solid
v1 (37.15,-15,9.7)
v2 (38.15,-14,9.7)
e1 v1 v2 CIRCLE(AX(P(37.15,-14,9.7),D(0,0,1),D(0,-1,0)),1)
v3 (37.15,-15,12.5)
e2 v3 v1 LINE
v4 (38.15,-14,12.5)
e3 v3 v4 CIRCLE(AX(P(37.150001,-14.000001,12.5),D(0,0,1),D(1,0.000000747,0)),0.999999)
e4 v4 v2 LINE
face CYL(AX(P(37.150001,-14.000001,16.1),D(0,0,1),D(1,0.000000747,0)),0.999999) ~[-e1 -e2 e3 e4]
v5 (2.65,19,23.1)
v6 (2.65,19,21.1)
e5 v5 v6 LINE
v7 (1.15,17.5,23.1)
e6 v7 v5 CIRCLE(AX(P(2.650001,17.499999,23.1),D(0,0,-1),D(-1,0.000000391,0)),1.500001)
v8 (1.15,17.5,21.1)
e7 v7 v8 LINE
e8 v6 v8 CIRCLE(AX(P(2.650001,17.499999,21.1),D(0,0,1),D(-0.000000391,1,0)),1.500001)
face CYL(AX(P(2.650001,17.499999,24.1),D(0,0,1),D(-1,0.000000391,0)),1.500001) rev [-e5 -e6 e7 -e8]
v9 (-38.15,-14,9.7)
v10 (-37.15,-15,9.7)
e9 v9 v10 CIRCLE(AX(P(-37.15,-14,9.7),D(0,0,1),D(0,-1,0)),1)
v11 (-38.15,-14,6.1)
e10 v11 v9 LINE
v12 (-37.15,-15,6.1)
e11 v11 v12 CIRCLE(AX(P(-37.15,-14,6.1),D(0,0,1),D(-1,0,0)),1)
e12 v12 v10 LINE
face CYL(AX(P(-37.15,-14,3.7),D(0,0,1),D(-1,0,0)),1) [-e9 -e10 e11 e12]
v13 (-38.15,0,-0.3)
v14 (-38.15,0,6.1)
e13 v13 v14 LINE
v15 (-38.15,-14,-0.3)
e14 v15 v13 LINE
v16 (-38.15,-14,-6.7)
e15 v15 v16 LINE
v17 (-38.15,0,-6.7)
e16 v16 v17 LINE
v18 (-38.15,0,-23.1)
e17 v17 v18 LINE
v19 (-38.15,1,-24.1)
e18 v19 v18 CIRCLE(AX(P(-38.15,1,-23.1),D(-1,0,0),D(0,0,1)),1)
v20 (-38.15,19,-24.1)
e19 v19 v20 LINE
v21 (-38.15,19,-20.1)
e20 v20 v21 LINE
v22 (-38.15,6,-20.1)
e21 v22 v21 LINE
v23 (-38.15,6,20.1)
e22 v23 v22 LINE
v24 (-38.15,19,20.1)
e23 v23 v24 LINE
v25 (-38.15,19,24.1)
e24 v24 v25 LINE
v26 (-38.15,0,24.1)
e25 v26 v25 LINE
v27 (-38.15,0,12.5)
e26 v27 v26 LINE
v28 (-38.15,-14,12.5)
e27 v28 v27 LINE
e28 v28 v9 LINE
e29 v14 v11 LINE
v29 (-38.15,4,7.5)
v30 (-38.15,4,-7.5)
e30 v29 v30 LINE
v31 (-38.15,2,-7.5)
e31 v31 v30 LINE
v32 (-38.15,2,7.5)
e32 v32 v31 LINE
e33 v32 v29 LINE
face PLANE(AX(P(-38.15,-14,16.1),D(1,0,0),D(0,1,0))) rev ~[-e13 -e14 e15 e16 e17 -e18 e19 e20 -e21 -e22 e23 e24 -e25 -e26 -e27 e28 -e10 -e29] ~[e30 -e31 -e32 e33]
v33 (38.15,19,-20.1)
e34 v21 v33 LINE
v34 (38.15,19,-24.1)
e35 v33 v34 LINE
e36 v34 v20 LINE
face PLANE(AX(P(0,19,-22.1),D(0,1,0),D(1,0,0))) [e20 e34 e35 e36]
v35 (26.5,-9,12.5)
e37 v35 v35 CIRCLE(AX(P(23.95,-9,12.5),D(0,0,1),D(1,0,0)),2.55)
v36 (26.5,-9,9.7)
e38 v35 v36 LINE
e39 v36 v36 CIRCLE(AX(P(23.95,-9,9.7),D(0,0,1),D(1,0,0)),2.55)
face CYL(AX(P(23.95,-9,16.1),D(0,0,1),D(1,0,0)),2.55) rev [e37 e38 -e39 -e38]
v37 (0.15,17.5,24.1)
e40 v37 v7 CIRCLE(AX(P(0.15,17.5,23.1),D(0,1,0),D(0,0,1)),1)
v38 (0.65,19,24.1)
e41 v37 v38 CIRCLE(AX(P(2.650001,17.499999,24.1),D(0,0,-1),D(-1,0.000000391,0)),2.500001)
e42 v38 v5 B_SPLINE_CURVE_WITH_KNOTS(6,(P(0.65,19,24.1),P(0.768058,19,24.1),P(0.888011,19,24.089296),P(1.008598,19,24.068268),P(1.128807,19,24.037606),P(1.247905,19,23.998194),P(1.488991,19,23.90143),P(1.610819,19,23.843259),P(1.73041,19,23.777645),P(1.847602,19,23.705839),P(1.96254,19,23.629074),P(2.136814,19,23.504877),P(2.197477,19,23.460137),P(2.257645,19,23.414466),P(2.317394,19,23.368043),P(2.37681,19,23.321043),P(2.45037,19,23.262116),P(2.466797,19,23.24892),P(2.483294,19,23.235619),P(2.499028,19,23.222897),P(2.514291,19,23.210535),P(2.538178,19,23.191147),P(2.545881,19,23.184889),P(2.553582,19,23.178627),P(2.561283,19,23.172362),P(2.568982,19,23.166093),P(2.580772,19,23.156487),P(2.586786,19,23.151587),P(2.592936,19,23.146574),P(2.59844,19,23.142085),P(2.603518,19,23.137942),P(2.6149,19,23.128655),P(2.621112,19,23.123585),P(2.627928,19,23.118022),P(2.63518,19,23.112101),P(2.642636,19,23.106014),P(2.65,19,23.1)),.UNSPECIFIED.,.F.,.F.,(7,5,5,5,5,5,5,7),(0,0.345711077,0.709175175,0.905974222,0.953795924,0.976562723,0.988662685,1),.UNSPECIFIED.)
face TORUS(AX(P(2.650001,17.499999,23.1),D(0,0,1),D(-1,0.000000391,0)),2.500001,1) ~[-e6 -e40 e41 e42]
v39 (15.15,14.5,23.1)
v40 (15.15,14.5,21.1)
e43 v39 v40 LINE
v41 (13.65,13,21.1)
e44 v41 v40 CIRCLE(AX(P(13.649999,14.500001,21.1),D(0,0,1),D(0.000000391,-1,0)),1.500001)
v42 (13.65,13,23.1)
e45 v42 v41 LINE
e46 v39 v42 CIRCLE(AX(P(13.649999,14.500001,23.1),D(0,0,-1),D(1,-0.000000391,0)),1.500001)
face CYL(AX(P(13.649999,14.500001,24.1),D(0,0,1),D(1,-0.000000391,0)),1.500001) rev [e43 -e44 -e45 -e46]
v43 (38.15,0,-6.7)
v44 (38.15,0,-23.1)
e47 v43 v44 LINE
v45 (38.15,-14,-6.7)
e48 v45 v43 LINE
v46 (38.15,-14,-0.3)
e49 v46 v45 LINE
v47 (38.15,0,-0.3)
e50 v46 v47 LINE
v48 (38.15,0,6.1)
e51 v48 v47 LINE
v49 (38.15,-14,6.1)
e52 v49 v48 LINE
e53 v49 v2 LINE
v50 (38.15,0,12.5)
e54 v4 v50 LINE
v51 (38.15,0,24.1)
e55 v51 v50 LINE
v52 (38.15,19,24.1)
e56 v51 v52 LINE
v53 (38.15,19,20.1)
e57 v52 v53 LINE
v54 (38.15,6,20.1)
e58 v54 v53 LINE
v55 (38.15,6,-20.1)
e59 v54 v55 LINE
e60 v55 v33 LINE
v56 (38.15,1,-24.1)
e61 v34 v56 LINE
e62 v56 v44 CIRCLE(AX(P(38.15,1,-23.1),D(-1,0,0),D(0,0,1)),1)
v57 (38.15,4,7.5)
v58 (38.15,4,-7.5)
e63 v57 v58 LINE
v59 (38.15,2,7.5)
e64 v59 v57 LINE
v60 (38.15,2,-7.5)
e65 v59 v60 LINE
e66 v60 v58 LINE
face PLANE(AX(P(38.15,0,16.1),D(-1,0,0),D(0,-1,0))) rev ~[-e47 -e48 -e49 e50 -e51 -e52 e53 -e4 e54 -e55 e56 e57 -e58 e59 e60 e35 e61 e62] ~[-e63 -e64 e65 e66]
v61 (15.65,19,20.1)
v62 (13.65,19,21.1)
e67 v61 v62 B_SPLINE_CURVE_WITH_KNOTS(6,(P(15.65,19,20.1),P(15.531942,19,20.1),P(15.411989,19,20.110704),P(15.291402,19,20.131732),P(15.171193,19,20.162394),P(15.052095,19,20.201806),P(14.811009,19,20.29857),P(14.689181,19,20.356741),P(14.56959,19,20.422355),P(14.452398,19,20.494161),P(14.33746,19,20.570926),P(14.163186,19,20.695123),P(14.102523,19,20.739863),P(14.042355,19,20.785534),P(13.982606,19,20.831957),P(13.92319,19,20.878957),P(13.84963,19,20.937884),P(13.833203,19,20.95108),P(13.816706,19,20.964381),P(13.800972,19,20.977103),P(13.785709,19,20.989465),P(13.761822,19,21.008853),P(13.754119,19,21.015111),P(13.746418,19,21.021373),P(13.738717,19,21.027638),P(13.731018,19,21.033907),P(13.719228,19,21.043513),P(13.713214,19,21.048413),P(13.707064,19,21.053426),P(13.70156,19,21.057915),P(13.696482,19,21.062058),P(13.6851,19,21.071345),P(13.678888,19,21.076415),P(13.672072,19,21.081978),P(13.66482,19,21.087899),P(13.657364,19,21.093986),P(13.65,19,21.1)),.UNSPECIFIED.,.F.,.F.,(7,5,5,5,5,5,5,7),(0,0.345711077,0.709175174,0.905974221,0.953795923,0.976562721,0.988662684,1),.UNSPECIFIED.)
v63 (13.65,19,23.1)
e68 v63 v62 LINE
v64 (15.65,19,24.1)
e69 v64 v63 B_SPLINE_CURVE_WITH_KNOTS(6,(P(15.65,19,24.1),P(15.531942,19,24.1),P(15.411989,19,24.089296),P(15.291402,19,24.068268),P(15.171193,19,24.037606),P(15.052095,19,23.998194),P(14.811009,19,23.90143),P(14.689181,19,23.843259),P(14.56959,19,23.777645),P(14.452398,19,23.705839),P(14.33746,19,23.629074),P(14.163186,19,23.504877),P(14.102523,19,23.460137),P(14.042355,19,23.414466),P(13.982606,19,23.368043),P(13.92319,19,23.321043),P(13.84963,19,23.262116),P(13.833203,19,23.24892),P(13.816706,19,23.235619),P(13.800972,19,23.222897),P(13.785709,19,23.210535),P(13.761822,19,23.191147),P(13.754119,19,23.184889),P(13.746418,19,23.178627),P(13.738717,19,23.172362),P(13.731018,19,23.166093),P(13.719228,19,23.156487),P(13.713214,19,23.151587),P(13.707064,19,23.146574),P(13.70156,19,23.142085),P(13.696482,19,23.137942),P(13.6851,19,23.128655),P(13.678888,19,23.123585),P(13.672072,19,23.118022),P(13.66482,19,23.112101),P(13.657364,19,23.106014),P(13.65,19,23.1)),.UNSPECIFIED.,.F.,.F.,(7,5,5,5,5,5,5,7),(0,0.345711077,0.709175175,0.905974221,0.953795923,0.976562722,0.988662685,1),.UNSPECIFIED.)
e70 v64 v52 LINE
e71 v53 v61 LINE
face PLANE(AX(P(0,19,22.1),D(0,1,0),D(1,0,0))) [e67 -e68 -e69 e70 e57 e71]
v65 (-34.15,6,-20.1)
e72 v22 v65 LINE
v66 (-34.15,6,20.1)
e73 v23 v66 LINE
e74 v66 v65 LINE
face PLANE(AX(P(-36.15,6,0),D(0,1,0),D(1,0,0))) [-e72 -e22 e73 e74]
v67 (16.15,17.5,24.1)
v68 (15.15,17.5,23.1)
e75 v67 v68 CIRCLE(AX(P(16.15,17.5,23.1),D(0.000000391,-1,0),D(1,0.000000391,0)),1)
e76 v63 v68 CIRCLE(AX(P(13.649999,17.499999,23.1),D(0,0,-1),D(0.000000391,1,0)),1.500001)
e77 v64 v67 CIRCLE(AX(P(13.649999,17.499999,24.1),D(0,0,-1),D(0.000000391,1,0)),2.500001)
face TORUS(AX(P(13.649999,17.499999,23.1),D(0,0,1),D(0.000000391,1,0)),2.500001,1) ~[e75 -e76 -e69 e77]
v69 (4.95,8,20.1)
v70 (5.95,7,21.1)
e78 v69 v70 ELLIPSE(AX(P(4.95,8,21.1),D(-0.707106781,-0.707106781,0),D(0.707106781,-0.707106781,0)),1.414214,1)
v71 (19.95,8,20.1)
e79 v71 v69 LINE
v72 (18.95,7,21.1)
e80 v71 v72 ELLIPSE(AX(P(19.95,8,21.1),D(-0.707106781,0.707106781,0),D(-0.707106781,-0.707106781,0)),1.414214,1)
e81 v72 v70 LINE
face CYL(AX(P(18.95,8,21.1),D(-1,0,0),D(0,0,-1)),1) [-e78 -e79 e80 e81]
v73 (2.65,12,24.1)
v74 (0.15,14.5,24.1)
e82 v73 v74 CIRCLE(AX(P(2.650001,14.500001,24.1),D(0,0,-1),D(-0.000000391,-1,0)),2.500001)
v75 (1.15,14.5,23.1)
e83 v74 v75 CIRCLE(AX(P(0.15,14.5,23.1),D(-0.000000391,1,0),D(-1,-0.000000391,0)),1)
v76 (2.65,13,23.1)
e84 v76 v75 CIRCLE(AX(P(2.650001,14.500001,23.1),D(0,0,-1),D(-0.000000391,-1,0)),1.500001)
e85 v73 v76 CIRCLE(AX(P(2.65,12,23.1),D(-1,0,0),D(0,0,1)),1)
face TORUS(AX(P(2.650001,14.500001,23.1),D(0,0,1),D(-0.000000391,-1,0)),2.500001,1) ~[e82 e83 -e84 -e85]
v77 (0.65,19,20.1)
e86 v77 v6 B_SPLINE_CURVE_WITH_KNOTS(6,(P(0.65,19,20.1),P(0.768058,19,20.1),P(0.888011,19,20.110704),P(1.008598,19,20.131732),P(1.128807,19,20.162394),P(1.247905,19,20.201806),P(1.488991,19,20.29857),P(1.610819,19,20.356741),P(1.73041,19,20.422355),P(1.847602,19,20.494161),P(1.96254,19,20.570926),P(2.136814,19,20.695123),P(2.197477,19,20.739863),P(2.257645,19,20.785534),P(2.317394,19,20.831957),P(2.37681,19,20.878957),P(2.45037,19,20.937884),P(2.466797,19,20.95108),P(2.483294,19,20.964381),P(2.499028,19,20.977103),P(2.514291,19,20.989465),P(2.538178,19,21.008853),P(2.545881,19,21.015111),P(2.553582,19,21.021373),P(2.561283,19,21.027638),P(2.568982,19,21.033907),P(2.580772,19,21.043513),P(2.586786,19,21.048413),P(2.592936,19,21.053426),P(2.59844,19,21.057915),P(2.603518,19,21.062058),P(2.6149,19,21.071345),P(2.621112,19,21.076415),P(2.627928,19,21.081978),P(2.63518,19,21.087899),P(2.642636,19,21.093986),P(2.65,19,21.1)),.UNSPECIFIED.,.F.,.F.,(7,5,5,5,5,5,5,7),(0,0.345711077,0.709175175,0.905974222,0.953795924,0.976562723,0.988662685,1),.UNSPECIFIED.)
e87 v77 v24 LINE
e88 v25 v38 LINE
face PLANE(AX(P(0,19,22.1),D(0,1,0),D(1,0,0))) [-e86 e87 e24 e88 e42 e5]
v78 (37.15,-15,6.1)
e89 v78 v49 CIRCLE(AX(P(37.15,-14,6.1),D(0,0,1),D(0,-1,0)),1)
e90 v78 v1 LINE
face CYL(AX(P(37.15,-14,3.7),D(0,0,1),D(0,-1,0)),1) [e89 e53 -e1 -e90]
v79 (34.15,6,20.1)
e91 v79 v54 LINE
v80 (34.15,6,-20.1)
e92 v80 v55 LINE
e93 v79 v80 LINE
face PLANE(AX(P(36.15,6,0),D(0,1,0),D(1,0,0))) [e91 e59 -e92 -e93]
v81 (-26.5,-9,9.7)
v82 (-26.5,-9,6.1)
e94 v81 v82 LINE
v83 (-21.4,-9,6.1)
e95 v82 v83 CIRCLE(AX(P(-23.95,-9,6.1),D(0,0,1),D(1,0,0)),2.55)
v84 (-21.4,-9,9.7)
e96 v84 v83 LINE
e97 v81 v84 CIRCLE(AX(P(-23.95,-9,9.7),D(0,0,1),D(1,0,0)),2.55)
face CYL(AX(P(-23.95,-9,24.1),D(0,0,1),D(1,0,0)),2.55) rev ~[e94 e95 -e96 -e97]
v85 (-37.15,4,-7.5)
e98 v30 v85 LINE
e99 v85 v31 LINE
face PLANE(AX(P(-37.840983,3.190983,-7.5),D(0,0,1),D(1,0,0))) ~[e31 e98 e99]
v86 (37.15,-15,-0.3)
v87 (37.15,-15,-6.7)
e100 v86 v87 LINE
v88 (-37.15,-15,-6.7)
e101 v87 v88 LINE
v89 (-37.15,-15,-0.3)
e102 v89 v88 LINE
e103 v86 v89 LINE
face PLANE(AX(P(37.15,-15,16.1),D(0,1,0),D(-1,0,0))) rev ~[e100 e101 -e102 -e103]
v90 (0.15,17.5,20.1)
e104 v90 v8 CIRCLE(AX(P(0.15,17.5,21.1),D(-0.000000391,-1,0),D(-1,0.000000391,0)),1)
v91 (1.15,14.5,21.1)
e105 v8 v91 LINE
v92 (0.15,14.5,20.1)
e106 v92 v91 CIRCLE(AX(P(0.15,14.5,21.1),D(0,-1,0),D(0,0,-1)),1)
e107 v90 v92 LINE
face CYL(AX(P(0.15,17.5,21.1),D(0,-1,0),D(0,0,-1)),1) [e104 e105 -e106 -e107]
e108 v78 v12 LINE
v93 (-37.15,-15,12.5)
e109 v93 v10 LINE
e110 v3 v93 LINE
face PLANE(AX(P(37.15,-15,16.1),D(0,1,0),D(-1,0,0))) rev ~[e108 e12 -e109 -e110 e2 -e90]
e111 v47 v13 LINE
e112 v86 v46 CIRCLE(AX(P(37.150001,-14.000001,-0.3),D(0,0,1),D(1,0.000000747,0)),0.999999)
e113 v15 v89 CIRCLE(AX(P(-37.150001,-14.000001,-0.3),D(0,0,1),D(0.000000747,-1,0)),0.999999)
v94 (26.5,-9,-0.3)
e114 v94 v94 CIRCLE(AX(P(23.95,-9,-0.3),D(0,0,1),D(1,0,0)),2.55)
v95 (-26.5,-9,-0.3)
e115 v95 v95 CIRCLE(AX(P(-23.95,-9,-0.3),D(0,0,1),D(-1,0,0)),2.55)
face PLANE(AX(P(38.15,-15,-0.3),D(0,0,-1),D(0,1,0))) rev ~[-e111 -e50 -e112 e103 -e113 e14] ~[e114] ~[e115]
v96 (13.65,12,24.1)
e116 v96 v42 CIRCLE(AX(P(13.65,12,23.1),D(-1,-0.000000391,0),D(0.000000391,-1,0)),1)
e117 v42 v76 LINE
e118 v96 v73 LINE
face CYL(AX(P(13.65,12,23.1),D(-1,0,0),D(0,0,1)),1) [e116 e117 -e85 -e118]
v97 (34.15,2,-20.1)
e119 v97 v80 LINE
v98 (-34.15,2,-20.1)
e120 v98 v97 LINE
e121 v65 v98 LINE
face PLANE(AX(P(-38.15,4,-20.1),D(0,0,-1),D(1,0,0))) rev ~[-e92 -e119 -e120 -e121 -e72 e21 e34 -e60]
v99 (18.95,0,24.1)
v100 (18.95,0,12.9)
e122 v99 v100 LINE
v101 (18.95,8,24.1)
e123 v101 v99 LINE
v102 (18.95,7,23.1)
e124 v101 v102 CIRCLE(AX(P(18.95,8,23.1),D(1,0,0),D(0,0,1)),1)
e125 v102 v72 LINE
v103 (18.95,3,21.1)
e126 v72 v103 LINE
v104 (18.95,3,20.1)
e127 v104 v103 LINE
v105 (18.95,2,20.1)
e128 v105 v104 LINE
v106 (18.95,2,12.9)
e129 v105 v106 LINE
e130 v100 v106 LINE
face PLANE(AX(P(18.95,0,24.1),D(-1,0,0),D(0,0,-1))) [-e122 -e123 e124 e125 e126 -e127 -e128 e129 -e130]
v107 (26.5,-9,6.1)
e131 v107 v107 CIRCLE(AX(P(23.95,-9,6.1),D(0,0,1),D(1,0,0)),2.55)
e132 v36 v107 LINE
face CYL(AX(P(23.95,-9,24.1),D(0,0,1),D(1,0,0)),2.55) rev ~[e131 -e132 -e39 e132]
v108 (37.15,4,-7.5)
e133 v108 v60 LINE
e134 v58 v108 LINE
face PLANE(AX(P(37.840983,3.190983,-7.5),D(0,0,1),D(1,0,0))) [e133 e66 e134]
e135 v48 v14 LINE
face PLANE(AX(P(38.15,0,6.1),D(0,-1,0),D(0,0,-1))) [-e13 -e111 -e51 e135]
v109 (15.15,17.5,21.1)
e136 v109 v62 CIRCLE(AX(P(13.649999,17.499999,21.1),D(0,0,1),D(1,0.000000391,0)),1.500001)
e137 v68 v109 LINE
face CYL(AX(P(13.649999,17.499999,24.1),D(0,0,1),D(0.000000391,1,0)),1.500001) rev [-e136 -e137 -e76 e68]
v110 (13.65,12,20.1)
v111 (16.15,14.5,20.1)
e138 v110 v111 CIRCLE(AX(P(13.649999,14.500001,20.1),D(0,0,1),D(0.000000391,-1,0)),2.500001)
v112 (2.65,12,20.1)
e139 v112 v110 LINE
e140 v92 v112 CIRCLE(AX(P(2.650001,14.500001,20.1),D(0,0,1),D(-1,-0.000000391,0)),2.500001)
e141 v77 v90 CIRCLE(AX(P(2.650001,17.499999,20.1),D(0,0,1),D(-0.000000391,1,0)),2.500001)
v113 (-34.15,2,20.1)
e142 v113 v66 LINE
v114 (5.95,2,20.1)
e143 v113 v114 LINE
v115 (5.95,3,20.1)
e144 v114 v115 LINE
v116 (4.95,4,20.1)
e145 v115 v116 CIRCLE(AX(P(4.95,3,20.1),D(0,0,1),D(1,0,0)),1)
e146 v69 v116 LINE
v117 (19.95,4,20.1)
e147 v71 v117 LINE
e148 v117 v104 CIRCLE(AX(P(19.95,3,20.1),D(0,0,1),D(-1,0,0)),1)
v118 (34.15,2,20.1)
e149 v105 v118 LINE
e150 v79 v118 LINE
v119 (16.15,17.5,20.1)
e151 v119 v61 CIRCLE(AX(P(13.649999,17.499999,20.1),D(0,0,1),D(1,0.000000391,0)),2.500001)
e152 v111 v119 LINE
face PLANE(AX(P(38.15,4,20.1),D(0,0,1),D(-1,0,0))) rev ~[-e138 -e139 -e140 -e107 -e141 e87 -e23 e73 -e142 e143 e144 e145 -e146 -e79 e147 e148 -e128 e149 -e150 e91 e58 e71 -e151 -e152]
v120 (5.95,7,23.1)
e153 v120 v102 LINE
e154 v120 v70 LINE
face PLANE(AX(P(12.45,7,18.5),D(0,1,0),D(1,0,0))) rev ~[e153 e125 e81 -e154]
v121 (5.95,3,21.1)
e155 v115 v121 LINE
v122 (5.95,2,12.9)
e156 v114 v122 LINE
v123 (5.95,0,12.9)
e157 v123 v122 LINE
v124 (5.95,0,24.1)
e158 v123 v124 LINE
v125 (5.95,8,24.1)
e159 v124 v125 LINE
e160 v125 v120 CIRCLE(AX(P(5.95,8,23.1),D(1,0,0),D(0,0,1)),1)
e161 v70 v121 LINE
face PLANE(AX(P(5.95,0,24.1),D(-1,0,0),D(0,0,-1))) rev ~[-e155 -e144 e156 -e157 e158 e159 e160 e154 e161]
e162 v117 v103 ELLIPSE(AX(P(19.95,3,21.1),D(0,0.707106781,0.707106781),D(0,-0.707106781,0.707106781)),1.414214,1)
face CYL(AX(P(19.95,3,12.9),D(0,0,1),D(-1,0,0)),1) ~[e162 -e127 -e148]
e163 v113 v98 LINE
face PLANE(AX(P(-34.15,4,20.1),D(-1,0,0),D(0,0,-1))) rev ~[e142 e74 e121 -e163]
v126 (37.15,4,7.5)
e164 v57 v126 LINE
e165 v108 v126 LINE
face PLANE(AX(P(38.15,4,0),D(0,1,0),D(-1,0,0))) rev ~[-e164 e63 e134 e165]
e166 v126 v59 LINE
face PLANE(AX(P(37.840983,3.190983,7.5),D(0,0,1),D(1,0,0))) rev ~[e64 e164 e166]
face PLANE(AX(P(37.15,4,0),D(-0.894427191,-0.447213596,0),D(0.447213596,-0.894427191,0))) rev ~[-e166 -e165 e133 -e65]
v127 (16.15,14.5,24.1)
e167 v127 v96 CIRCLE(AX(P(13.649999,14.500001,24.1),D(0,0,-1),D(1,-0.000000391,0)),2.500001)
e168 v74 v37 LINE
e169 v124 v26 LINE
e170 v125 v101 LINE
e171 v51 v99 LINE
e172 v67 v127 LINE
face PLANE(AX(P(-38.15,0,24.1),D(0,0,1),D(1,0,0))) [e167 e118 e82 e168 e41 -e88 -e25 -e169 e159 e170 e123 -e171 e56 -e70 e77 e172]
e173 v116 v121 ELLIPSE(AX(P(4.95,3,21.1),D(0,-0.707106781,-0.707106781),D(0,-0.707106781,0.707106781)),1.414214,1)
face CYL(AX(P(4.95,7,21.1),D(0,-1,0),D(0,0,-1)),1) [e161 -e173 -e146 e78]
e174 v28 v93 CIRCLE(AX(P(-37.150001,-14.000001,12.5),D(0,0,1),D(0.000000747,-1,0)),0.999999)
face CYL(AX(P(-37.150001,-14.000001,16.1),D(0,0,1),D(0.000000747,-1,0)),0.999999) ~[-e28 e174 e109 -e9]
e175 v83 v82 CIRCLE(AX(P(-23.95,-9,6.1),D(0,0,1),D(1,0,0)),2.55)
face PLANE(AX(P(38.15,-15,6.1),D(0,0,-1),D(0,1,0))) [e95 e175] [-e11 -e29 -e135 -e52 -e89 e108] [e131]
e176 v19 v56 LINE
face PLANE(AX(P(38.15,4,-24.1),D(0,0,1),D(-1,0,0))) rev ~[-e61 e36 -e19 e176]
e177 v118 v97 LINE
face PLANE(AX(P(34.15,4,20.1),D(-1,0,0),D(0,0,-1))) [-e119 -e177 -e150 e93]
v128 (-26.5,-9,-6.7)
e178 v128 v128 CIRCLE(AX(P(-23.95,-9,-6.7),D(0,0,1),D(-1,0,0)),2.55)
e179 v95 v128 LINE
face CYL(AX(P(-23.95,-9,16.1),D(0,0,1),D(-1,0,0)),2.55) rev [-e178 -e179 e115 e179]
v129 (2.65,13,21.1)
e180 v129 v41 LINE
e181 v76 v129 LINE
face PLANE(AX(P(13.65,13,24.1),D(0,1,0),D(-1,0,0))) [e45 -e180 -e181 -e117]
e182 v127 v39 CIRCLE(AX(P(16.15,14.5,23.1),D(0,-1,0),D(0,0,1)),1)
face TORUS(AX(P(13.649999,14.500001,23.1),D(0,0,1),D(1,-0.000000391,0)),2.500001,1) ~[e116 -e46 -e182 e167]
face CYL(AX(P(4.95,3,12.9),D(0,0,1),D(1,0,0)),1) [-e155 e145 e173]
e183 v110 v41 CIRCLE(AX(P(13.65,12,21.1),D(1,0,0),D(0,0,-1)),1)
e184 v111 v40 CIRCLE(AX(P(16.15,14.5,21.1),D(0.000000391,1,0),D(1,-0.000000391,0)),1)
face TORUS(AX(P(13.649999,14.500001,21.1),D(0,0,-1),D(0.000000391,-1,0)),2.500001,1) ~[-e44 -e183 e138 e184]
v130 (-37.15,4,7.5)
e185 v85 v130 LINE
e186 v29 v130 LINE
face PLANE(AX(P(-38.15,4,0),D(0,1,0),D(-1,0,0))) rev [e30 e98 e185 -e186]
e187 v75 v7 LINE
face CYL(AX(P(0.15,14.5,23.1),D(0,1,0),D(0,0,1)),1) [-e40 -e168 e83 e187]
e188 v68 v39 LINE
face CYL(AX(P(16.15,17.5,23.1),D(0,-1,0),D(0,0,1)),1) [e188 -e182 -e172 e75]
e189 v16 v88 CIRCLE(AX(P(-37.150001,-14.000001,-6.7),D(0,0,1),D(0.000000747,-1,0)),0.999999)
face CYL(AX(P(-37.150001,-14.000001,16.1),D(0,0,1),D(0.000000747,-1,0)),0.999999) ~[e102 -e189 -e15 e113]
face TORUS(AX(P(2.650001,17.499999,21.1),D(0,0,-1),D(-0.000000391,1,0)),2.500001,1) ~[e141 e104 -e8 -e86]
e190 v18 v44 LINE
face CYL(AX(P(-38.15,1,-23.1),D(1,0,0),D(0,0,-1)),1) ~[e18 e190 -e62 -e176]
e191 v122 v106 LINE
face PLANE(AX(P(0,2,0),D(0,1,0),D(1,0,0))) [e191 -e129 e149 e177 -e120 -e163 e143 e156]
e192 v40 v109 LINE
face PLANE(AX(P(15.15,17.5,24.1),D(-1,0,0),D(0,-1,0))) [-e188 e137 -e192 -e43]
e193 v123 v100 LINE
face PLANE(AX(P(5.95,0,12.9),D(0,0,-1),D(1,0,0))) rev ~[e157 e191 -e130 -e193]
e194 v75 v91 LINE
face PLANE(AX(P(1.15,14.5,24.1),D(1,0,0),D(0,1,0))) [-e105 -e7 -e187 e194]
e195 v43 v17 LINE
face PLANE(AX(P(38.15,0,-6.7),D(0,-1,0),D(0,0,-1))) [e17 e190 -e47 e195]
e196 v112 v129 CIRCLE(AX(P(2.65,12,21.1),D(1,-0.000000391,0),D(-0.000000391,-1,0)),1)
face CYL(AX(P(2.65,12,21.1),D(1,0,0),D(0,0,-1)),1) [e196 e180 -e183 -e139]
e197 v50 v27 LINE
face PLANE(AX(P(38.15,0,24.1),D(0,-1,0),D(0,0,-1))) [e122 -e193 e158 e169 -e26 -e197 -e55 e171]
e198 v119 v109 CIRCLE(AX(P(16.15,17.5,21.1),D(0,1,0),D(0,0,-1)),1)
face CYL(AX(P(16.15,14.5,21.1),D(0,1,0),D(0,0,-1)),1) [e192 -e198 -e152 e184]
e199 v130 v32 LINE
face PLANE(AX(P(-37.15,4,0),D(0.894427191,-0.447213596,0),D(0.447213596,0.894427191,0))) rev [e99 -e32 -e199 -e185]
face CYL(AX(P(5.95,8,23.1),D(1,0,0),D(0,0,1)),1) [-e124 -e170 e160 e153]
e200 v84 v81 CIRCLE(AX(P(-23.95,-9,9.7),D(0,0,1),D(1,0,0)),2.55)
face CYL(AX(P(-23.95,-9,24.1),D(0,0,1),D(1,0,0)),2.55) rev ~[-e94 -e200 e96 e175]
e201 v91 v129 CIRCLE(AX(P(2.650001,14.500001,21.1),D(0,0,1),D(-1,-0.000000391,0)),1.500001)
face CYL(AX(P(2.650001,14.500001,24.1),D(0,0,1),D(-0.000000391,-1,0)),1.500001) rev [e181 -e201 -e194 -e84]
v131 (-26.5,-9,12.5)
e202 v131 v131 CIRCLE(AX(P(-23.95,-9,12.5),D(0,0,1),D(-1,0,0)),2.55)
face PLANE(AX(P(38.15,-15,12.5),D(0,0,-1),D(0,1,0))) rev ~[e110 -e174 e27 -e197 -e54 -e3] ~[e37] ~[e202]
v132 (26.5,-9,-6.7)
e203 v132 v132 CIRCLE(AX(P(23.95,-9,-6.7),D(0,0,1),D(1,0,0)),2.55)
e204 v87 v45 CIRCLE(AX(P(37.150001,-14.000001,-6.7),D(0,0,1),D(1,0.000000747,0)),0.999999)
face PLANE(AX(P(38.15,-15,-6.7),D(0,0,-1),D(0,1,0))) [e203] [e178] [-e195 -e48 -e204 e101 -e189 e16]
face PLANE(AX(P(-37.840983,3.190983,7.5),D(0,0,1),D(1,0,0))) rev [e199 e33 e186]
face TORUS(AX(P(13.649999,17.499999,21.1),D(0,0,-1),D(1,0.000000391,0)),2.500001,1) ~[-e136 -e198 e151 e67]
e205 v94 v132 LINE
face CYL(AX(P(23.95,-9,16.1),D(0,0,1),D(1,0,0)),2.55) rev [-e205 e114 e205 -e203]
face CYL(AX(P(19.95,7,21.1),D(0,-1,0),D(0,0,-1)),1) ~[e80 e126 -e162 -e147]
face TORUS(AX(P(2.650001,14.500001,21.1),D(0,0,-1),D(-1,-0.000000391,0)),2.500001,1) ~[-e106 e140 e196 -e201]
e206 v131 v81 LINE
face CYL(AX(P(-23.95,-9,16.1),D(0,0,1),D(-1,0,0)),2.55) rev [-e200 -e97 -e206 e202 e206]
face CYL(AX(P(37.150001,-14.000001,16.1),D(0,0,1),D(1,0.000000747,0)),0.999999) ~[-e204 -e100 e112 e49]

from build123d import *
from build123d.topology import SkipClean

# Parameters (mm, degrees)
SKETCH2_W               = 76.3
SKETCH2_H               = 48.2
BOSS_EXTRUDE1_DEPTH     = 4
BOSS_EXTRUDE2_DEPTH     = 15
SKETCH10_W              = 4
SKETCH10_H              = 40.2
BOSS_EXTRUDE5_DEPTH     = 2
CUT_EXTRUDE1_DEPTH      = 3
CUT_EXTRUDE1_DEPTH_BACK = 4
SKETCH5_W               = 13
SKETCH5_H               = 11.2
CUT_EXTRUDE2_REACH      = 66.34
CUT_EXTRUDE3_DEPTH      = 7.5
FILLET3_R               = 1
SKETCH17_W              = 76.3
SKETCH17_H              = 8
SKETCH17_H_2            = 6
BOSS_EXTRUDE6_DEPTH     = 15
SKETCH20_R              = 2.55
CUT_EXTRUDE5_DEPTH      = 65.340209
FILLET4_R               = 1
FILLET5_R               = 1
SKETCH21_W              = 68.3
SKETCH21_H              = 40.2
CUT_EXTRUDE6_DEPTH      = 2
SKETCH29_R              = 2.55
BOSS_EXTRUDE9_DEPTH     = 40.2
SKETCH30_W              = 17.4
SKETCH30_H              = 15
SKETCH30_W_2            = 11.6
SKETCH30_W_3            = 6.4
CUT_EXTRUDE12_DEPTH     = 83.240501


with BuildPart() as part:
    # Sketch2 → Boss-Extrude1 (new body)
    with BuildSketch(Plane(origin=(0, 0, 0), x_dir=(1, 0, 0), z_dir=(0, 1, 0))):
        Rectangle(SKETCH2_W, SKETCH2_H)
    extrude(amount=BOSS_EXTRUDE1_DEPTH)

    # Sketch3 → Boss-Extrude2 (add)
    with BuildSketch(Plane(origin=(0, 4, 0), x_dir=(1, 0, 0), z_dir=(0, 1, 0))):
        Polygon((38.15, 24.1), (-38.15, 24.1), (-38.15, 20.1), (-34.15, 20.1), (34.15, 20.1), (38.15, 20.1), align=None)
        Polygon((-38.15, -24.1), (38.15, -24.1), (38.15, -20.1), (34.15, -20.1), (-34.15, -20.1), (-38.15, -20.1), align=None)
    extrude(amount=BOSS_EXTRUDE2_DEPTH)

    # Sketch10 → Boss-Extrude5 (add)
    with BuildSketch(Plane(origin=(0, 4, 0), x_dir=(1, 0, 0), z_dir=(0, 1, 0))):
        with Locations((-36.15, 0)):
            Rectangle(SKETCH10_W, SKETCH10_H)
        with Locations((36.15, 0)):
            Rectangle(SKETCH10_W, SKETCH10_H)
    extrude(amount=BOSS_EXTRUDE5_DEPTH)

    # Sketch5 → Cut-Extrude1 (cut, two sides: drawn at the far end of the back side and taken through both)
    with BuildSketch(Plane(origin=(0, 4, 0), x_dir=(1, 0, 0), z_dir=(0, 1, 0)).offset(-CUT_EXTRUDE1_DEPTH_BACK)):
        with Locations((12.45, -18.5)):
            Rectangle(SKETCH5_W, SKETCH5_H)
    extrude(amount=CUT_EXTRUDE1_DEPTH + CUT_EXTRUDE1_DEPTH_BACK, mode=Mode.SUBTRACT)

    # Sketch8 → Cut-Extrude2 (cut, up to next)
    with BuildSketch(Plane.XY.offset(24.1), mode=Mode.PRIVATE) as cut_extrude2_sk1:
        with BuildLine():
            Line((2.65, 19), (13.65, 19))
            ThreePointArc((13.65, 19), (14.71066, 18.56066), (15.15, 17.5))
            Line((15.15, 17.5), (15.15, 14.5))
            ThreePointArc((15.15, 14.5), (14.71066, 13.43934), (13.65, 13))
            Line((13.65, 13), (2.65, 13))
            ThreePointArc((2.65, 13), (1.58934, 13.43934), (1.15, 14.5))
            Line((1.15, 14.5), (1.15, 17.5))
            ThreePointArc((1.15, 17.5), (1.58934, 18.56066), (2.65, 19))
        make_face()
    cut_extrude2_tool1 = extrude(cut_extrude2_sk1.sketch, amount=-CUT_EXTRUDE2_REACH, mode=Mode.PRIVATE) & part.part
    add(cut_extrude2_tool1.solids().sort_by_distance((8.15, 16, 24.1))[0], mode=Mode.SUBTRACT)

    # Sketch13 → Cut-Extrude3 (cut, symmetric)
    with BuildSketch(Plane.XY):
        Polygon((38.15, 4), (37.15, 4), (38.15, 2), align=None)
    cut_extrude3 = extrude(amount=CUT_EXTRUDE3_DEPTH, both=True, mode=Mode.SUBTRACT)

    # Mirror2: Cut-Extrude3 across plane
    add(cut_extrude3.mirror(Plane(origin=(0, 0, 0), x_dir=(0, 0, 1), z_dir=(1, 0, 0))), mode=Mode.SUBTRACT)

    # Fillet3
    fillet3_edges = [part.edges().sort_by_distance(p)[0] for p in [
        (0, 0, -24.1),
    ]]
    fillet(fillet3_edges, radius=FILLET3_R)

    # Sketch17 → Boss-Extrude6 (add)
    with BuildSketch(Plane.XZ):
        with Locations((0, 20.1)):
            Rectangle(SKETCH17_W, SKETCH17_H)
        with Locations((0, 6.7)):
            Rectangle(SKETCH17_W, SKETCH17_H_2)
    extrude(amount=BOSS_EXTRUDE6_DEPTH)

    # Sketch20 → Cut-Extrude5 (cut, through all)
    with BuildSketch(Plane.XY.offset(24.1)):
        with Locations((23.95, -9)):
            Circle(SKETCH20_R)
        with Locations((-23.95, -9)):
            Circle(SKETCH20_R)
    extrude(amount=-CUT_EXTRUDE5_DEPTH, mode=Mode.SUBTRACT)

    # Fillet4
    fillet4_edges = [part.edges().sort_by_distance(p)[0] for p in [
        (-38.15, -15, 20.1),
        (38.15, -15, 20.1),
        (-38.15, -15, 6.7),
        (38.15, -15, 6.7),
    ]]
    fillet(fillet4_edges, radius=FILLET4_R)

    # Fillet5
    fillet5_edges = [part.edges().sort_by_distance(p)[0] for p in [
        (1.58934, 18.56066, 24.1),
        (1.15, 16, 24.1),
        (1.58934, 13.43934, 24.1),
        (8.15, 13, 24.1),
        (14.71066, 13.43934, 24.1),
        (15.15, 16, 24.1),
        (14.71066, 18.56066, 24.1),
        (1.15, 16, 20.1),
        (1.58934, 18.56066, 20.1),
        (14.71066, 18.56066, 20.1),
        (15.15, 16, 20.1),
        (14.71066, 13.43934, 20.1),
        (8.15, 13, 20.1),
        (1.58934, 13.43934, 20.1),
        (12.45, 7, 24.1),
        (5.95, 5.5, 20.1),
        (18.95, 5.5, 20.1),
        (5.95, 4, 16.5),
        (18.95, 4, 16.5),
        (12.45, 4, 12.9),
        (12.45, 7, 20.1),
    ]]
    fillet(fillet5_edges, radius=FILLET5_R)

    # Sketch21 → Cut-Extrude6 (cut)
    with BuildSketch(Plane(origin=(0, 4, 0), x_dir=(1, 0, 0), z_dir=(0, 1, 0))):
        Rectangle(SKETCH21_W, SKETCH21_H)
    extrude(amount=-CUT_EXTRUDE6_DEPTH, mode=Mode.SUBTRACT)

    # Sketch29 → Boss-Extrude9 (add, through all)
    with SkipClean():  # the faces are left unmerged after this step: merging them gives an invalid solid
        with BuildSketch(Plane(origin=(0, 0, 16.1), x_dir=(-1, 0, 0), z_dir=(0, 0, -1))):
            with BuildLine():
                Line((-37.15, -15), (37.15, -15))
                ThreePointArc((37.15, -15), (37.857107, -14.707107), (38.15, -14))
                Line((38.15, -14), (38.15, 0))
                Line((38.15, 0), (-5.95, 0))
                Line((-5.95, 0), (-18.95, 0))
                Line((-18.95, 0), (-38.15, 0))
                Line((-38.15, 0), (-38.15, -14))
                ThreePointArc((-38.15, -14), (-37.857107, -14.707107), (-37.15, -15))
            make_face()
            with Locations(Location((-23.95, -9, 0), (0, 0, 180))):
                Circle(SKETCH29_R, mode=Mode.SUBTRACT)
            with Locations((23.95, -9)):
                Circle(SKETCH29_R, mode=Mode.SUBTRACT)
        extrude(amount=BOSS_EXTRUDE9_DEPTH)

    # Sketch30 → Cut-Extrude12 (cut, through all)
    with BuildSketch(Plane(origin=(38.15, 0, 0), x_dir=(0, 0, -1), z_dir=(1, 0, 0))):
        with Locations((15.4, -7.5)):
            Rectangle(SKETCH30_W, SKETCH30_H)
        with Locations((-18.3, -7.5)):
            Rectangle(SKETCH30_W_2, SKETCH30_H)
        with Locations((-2.9, -7.5)):
            Rectangle(SKETCH30_W_3, SKETCH30_H)
    extrude(amount=-CUT_EXTRUDE12_DEPTH, mode=Mode.SUBTRACT)


solid = part.part
